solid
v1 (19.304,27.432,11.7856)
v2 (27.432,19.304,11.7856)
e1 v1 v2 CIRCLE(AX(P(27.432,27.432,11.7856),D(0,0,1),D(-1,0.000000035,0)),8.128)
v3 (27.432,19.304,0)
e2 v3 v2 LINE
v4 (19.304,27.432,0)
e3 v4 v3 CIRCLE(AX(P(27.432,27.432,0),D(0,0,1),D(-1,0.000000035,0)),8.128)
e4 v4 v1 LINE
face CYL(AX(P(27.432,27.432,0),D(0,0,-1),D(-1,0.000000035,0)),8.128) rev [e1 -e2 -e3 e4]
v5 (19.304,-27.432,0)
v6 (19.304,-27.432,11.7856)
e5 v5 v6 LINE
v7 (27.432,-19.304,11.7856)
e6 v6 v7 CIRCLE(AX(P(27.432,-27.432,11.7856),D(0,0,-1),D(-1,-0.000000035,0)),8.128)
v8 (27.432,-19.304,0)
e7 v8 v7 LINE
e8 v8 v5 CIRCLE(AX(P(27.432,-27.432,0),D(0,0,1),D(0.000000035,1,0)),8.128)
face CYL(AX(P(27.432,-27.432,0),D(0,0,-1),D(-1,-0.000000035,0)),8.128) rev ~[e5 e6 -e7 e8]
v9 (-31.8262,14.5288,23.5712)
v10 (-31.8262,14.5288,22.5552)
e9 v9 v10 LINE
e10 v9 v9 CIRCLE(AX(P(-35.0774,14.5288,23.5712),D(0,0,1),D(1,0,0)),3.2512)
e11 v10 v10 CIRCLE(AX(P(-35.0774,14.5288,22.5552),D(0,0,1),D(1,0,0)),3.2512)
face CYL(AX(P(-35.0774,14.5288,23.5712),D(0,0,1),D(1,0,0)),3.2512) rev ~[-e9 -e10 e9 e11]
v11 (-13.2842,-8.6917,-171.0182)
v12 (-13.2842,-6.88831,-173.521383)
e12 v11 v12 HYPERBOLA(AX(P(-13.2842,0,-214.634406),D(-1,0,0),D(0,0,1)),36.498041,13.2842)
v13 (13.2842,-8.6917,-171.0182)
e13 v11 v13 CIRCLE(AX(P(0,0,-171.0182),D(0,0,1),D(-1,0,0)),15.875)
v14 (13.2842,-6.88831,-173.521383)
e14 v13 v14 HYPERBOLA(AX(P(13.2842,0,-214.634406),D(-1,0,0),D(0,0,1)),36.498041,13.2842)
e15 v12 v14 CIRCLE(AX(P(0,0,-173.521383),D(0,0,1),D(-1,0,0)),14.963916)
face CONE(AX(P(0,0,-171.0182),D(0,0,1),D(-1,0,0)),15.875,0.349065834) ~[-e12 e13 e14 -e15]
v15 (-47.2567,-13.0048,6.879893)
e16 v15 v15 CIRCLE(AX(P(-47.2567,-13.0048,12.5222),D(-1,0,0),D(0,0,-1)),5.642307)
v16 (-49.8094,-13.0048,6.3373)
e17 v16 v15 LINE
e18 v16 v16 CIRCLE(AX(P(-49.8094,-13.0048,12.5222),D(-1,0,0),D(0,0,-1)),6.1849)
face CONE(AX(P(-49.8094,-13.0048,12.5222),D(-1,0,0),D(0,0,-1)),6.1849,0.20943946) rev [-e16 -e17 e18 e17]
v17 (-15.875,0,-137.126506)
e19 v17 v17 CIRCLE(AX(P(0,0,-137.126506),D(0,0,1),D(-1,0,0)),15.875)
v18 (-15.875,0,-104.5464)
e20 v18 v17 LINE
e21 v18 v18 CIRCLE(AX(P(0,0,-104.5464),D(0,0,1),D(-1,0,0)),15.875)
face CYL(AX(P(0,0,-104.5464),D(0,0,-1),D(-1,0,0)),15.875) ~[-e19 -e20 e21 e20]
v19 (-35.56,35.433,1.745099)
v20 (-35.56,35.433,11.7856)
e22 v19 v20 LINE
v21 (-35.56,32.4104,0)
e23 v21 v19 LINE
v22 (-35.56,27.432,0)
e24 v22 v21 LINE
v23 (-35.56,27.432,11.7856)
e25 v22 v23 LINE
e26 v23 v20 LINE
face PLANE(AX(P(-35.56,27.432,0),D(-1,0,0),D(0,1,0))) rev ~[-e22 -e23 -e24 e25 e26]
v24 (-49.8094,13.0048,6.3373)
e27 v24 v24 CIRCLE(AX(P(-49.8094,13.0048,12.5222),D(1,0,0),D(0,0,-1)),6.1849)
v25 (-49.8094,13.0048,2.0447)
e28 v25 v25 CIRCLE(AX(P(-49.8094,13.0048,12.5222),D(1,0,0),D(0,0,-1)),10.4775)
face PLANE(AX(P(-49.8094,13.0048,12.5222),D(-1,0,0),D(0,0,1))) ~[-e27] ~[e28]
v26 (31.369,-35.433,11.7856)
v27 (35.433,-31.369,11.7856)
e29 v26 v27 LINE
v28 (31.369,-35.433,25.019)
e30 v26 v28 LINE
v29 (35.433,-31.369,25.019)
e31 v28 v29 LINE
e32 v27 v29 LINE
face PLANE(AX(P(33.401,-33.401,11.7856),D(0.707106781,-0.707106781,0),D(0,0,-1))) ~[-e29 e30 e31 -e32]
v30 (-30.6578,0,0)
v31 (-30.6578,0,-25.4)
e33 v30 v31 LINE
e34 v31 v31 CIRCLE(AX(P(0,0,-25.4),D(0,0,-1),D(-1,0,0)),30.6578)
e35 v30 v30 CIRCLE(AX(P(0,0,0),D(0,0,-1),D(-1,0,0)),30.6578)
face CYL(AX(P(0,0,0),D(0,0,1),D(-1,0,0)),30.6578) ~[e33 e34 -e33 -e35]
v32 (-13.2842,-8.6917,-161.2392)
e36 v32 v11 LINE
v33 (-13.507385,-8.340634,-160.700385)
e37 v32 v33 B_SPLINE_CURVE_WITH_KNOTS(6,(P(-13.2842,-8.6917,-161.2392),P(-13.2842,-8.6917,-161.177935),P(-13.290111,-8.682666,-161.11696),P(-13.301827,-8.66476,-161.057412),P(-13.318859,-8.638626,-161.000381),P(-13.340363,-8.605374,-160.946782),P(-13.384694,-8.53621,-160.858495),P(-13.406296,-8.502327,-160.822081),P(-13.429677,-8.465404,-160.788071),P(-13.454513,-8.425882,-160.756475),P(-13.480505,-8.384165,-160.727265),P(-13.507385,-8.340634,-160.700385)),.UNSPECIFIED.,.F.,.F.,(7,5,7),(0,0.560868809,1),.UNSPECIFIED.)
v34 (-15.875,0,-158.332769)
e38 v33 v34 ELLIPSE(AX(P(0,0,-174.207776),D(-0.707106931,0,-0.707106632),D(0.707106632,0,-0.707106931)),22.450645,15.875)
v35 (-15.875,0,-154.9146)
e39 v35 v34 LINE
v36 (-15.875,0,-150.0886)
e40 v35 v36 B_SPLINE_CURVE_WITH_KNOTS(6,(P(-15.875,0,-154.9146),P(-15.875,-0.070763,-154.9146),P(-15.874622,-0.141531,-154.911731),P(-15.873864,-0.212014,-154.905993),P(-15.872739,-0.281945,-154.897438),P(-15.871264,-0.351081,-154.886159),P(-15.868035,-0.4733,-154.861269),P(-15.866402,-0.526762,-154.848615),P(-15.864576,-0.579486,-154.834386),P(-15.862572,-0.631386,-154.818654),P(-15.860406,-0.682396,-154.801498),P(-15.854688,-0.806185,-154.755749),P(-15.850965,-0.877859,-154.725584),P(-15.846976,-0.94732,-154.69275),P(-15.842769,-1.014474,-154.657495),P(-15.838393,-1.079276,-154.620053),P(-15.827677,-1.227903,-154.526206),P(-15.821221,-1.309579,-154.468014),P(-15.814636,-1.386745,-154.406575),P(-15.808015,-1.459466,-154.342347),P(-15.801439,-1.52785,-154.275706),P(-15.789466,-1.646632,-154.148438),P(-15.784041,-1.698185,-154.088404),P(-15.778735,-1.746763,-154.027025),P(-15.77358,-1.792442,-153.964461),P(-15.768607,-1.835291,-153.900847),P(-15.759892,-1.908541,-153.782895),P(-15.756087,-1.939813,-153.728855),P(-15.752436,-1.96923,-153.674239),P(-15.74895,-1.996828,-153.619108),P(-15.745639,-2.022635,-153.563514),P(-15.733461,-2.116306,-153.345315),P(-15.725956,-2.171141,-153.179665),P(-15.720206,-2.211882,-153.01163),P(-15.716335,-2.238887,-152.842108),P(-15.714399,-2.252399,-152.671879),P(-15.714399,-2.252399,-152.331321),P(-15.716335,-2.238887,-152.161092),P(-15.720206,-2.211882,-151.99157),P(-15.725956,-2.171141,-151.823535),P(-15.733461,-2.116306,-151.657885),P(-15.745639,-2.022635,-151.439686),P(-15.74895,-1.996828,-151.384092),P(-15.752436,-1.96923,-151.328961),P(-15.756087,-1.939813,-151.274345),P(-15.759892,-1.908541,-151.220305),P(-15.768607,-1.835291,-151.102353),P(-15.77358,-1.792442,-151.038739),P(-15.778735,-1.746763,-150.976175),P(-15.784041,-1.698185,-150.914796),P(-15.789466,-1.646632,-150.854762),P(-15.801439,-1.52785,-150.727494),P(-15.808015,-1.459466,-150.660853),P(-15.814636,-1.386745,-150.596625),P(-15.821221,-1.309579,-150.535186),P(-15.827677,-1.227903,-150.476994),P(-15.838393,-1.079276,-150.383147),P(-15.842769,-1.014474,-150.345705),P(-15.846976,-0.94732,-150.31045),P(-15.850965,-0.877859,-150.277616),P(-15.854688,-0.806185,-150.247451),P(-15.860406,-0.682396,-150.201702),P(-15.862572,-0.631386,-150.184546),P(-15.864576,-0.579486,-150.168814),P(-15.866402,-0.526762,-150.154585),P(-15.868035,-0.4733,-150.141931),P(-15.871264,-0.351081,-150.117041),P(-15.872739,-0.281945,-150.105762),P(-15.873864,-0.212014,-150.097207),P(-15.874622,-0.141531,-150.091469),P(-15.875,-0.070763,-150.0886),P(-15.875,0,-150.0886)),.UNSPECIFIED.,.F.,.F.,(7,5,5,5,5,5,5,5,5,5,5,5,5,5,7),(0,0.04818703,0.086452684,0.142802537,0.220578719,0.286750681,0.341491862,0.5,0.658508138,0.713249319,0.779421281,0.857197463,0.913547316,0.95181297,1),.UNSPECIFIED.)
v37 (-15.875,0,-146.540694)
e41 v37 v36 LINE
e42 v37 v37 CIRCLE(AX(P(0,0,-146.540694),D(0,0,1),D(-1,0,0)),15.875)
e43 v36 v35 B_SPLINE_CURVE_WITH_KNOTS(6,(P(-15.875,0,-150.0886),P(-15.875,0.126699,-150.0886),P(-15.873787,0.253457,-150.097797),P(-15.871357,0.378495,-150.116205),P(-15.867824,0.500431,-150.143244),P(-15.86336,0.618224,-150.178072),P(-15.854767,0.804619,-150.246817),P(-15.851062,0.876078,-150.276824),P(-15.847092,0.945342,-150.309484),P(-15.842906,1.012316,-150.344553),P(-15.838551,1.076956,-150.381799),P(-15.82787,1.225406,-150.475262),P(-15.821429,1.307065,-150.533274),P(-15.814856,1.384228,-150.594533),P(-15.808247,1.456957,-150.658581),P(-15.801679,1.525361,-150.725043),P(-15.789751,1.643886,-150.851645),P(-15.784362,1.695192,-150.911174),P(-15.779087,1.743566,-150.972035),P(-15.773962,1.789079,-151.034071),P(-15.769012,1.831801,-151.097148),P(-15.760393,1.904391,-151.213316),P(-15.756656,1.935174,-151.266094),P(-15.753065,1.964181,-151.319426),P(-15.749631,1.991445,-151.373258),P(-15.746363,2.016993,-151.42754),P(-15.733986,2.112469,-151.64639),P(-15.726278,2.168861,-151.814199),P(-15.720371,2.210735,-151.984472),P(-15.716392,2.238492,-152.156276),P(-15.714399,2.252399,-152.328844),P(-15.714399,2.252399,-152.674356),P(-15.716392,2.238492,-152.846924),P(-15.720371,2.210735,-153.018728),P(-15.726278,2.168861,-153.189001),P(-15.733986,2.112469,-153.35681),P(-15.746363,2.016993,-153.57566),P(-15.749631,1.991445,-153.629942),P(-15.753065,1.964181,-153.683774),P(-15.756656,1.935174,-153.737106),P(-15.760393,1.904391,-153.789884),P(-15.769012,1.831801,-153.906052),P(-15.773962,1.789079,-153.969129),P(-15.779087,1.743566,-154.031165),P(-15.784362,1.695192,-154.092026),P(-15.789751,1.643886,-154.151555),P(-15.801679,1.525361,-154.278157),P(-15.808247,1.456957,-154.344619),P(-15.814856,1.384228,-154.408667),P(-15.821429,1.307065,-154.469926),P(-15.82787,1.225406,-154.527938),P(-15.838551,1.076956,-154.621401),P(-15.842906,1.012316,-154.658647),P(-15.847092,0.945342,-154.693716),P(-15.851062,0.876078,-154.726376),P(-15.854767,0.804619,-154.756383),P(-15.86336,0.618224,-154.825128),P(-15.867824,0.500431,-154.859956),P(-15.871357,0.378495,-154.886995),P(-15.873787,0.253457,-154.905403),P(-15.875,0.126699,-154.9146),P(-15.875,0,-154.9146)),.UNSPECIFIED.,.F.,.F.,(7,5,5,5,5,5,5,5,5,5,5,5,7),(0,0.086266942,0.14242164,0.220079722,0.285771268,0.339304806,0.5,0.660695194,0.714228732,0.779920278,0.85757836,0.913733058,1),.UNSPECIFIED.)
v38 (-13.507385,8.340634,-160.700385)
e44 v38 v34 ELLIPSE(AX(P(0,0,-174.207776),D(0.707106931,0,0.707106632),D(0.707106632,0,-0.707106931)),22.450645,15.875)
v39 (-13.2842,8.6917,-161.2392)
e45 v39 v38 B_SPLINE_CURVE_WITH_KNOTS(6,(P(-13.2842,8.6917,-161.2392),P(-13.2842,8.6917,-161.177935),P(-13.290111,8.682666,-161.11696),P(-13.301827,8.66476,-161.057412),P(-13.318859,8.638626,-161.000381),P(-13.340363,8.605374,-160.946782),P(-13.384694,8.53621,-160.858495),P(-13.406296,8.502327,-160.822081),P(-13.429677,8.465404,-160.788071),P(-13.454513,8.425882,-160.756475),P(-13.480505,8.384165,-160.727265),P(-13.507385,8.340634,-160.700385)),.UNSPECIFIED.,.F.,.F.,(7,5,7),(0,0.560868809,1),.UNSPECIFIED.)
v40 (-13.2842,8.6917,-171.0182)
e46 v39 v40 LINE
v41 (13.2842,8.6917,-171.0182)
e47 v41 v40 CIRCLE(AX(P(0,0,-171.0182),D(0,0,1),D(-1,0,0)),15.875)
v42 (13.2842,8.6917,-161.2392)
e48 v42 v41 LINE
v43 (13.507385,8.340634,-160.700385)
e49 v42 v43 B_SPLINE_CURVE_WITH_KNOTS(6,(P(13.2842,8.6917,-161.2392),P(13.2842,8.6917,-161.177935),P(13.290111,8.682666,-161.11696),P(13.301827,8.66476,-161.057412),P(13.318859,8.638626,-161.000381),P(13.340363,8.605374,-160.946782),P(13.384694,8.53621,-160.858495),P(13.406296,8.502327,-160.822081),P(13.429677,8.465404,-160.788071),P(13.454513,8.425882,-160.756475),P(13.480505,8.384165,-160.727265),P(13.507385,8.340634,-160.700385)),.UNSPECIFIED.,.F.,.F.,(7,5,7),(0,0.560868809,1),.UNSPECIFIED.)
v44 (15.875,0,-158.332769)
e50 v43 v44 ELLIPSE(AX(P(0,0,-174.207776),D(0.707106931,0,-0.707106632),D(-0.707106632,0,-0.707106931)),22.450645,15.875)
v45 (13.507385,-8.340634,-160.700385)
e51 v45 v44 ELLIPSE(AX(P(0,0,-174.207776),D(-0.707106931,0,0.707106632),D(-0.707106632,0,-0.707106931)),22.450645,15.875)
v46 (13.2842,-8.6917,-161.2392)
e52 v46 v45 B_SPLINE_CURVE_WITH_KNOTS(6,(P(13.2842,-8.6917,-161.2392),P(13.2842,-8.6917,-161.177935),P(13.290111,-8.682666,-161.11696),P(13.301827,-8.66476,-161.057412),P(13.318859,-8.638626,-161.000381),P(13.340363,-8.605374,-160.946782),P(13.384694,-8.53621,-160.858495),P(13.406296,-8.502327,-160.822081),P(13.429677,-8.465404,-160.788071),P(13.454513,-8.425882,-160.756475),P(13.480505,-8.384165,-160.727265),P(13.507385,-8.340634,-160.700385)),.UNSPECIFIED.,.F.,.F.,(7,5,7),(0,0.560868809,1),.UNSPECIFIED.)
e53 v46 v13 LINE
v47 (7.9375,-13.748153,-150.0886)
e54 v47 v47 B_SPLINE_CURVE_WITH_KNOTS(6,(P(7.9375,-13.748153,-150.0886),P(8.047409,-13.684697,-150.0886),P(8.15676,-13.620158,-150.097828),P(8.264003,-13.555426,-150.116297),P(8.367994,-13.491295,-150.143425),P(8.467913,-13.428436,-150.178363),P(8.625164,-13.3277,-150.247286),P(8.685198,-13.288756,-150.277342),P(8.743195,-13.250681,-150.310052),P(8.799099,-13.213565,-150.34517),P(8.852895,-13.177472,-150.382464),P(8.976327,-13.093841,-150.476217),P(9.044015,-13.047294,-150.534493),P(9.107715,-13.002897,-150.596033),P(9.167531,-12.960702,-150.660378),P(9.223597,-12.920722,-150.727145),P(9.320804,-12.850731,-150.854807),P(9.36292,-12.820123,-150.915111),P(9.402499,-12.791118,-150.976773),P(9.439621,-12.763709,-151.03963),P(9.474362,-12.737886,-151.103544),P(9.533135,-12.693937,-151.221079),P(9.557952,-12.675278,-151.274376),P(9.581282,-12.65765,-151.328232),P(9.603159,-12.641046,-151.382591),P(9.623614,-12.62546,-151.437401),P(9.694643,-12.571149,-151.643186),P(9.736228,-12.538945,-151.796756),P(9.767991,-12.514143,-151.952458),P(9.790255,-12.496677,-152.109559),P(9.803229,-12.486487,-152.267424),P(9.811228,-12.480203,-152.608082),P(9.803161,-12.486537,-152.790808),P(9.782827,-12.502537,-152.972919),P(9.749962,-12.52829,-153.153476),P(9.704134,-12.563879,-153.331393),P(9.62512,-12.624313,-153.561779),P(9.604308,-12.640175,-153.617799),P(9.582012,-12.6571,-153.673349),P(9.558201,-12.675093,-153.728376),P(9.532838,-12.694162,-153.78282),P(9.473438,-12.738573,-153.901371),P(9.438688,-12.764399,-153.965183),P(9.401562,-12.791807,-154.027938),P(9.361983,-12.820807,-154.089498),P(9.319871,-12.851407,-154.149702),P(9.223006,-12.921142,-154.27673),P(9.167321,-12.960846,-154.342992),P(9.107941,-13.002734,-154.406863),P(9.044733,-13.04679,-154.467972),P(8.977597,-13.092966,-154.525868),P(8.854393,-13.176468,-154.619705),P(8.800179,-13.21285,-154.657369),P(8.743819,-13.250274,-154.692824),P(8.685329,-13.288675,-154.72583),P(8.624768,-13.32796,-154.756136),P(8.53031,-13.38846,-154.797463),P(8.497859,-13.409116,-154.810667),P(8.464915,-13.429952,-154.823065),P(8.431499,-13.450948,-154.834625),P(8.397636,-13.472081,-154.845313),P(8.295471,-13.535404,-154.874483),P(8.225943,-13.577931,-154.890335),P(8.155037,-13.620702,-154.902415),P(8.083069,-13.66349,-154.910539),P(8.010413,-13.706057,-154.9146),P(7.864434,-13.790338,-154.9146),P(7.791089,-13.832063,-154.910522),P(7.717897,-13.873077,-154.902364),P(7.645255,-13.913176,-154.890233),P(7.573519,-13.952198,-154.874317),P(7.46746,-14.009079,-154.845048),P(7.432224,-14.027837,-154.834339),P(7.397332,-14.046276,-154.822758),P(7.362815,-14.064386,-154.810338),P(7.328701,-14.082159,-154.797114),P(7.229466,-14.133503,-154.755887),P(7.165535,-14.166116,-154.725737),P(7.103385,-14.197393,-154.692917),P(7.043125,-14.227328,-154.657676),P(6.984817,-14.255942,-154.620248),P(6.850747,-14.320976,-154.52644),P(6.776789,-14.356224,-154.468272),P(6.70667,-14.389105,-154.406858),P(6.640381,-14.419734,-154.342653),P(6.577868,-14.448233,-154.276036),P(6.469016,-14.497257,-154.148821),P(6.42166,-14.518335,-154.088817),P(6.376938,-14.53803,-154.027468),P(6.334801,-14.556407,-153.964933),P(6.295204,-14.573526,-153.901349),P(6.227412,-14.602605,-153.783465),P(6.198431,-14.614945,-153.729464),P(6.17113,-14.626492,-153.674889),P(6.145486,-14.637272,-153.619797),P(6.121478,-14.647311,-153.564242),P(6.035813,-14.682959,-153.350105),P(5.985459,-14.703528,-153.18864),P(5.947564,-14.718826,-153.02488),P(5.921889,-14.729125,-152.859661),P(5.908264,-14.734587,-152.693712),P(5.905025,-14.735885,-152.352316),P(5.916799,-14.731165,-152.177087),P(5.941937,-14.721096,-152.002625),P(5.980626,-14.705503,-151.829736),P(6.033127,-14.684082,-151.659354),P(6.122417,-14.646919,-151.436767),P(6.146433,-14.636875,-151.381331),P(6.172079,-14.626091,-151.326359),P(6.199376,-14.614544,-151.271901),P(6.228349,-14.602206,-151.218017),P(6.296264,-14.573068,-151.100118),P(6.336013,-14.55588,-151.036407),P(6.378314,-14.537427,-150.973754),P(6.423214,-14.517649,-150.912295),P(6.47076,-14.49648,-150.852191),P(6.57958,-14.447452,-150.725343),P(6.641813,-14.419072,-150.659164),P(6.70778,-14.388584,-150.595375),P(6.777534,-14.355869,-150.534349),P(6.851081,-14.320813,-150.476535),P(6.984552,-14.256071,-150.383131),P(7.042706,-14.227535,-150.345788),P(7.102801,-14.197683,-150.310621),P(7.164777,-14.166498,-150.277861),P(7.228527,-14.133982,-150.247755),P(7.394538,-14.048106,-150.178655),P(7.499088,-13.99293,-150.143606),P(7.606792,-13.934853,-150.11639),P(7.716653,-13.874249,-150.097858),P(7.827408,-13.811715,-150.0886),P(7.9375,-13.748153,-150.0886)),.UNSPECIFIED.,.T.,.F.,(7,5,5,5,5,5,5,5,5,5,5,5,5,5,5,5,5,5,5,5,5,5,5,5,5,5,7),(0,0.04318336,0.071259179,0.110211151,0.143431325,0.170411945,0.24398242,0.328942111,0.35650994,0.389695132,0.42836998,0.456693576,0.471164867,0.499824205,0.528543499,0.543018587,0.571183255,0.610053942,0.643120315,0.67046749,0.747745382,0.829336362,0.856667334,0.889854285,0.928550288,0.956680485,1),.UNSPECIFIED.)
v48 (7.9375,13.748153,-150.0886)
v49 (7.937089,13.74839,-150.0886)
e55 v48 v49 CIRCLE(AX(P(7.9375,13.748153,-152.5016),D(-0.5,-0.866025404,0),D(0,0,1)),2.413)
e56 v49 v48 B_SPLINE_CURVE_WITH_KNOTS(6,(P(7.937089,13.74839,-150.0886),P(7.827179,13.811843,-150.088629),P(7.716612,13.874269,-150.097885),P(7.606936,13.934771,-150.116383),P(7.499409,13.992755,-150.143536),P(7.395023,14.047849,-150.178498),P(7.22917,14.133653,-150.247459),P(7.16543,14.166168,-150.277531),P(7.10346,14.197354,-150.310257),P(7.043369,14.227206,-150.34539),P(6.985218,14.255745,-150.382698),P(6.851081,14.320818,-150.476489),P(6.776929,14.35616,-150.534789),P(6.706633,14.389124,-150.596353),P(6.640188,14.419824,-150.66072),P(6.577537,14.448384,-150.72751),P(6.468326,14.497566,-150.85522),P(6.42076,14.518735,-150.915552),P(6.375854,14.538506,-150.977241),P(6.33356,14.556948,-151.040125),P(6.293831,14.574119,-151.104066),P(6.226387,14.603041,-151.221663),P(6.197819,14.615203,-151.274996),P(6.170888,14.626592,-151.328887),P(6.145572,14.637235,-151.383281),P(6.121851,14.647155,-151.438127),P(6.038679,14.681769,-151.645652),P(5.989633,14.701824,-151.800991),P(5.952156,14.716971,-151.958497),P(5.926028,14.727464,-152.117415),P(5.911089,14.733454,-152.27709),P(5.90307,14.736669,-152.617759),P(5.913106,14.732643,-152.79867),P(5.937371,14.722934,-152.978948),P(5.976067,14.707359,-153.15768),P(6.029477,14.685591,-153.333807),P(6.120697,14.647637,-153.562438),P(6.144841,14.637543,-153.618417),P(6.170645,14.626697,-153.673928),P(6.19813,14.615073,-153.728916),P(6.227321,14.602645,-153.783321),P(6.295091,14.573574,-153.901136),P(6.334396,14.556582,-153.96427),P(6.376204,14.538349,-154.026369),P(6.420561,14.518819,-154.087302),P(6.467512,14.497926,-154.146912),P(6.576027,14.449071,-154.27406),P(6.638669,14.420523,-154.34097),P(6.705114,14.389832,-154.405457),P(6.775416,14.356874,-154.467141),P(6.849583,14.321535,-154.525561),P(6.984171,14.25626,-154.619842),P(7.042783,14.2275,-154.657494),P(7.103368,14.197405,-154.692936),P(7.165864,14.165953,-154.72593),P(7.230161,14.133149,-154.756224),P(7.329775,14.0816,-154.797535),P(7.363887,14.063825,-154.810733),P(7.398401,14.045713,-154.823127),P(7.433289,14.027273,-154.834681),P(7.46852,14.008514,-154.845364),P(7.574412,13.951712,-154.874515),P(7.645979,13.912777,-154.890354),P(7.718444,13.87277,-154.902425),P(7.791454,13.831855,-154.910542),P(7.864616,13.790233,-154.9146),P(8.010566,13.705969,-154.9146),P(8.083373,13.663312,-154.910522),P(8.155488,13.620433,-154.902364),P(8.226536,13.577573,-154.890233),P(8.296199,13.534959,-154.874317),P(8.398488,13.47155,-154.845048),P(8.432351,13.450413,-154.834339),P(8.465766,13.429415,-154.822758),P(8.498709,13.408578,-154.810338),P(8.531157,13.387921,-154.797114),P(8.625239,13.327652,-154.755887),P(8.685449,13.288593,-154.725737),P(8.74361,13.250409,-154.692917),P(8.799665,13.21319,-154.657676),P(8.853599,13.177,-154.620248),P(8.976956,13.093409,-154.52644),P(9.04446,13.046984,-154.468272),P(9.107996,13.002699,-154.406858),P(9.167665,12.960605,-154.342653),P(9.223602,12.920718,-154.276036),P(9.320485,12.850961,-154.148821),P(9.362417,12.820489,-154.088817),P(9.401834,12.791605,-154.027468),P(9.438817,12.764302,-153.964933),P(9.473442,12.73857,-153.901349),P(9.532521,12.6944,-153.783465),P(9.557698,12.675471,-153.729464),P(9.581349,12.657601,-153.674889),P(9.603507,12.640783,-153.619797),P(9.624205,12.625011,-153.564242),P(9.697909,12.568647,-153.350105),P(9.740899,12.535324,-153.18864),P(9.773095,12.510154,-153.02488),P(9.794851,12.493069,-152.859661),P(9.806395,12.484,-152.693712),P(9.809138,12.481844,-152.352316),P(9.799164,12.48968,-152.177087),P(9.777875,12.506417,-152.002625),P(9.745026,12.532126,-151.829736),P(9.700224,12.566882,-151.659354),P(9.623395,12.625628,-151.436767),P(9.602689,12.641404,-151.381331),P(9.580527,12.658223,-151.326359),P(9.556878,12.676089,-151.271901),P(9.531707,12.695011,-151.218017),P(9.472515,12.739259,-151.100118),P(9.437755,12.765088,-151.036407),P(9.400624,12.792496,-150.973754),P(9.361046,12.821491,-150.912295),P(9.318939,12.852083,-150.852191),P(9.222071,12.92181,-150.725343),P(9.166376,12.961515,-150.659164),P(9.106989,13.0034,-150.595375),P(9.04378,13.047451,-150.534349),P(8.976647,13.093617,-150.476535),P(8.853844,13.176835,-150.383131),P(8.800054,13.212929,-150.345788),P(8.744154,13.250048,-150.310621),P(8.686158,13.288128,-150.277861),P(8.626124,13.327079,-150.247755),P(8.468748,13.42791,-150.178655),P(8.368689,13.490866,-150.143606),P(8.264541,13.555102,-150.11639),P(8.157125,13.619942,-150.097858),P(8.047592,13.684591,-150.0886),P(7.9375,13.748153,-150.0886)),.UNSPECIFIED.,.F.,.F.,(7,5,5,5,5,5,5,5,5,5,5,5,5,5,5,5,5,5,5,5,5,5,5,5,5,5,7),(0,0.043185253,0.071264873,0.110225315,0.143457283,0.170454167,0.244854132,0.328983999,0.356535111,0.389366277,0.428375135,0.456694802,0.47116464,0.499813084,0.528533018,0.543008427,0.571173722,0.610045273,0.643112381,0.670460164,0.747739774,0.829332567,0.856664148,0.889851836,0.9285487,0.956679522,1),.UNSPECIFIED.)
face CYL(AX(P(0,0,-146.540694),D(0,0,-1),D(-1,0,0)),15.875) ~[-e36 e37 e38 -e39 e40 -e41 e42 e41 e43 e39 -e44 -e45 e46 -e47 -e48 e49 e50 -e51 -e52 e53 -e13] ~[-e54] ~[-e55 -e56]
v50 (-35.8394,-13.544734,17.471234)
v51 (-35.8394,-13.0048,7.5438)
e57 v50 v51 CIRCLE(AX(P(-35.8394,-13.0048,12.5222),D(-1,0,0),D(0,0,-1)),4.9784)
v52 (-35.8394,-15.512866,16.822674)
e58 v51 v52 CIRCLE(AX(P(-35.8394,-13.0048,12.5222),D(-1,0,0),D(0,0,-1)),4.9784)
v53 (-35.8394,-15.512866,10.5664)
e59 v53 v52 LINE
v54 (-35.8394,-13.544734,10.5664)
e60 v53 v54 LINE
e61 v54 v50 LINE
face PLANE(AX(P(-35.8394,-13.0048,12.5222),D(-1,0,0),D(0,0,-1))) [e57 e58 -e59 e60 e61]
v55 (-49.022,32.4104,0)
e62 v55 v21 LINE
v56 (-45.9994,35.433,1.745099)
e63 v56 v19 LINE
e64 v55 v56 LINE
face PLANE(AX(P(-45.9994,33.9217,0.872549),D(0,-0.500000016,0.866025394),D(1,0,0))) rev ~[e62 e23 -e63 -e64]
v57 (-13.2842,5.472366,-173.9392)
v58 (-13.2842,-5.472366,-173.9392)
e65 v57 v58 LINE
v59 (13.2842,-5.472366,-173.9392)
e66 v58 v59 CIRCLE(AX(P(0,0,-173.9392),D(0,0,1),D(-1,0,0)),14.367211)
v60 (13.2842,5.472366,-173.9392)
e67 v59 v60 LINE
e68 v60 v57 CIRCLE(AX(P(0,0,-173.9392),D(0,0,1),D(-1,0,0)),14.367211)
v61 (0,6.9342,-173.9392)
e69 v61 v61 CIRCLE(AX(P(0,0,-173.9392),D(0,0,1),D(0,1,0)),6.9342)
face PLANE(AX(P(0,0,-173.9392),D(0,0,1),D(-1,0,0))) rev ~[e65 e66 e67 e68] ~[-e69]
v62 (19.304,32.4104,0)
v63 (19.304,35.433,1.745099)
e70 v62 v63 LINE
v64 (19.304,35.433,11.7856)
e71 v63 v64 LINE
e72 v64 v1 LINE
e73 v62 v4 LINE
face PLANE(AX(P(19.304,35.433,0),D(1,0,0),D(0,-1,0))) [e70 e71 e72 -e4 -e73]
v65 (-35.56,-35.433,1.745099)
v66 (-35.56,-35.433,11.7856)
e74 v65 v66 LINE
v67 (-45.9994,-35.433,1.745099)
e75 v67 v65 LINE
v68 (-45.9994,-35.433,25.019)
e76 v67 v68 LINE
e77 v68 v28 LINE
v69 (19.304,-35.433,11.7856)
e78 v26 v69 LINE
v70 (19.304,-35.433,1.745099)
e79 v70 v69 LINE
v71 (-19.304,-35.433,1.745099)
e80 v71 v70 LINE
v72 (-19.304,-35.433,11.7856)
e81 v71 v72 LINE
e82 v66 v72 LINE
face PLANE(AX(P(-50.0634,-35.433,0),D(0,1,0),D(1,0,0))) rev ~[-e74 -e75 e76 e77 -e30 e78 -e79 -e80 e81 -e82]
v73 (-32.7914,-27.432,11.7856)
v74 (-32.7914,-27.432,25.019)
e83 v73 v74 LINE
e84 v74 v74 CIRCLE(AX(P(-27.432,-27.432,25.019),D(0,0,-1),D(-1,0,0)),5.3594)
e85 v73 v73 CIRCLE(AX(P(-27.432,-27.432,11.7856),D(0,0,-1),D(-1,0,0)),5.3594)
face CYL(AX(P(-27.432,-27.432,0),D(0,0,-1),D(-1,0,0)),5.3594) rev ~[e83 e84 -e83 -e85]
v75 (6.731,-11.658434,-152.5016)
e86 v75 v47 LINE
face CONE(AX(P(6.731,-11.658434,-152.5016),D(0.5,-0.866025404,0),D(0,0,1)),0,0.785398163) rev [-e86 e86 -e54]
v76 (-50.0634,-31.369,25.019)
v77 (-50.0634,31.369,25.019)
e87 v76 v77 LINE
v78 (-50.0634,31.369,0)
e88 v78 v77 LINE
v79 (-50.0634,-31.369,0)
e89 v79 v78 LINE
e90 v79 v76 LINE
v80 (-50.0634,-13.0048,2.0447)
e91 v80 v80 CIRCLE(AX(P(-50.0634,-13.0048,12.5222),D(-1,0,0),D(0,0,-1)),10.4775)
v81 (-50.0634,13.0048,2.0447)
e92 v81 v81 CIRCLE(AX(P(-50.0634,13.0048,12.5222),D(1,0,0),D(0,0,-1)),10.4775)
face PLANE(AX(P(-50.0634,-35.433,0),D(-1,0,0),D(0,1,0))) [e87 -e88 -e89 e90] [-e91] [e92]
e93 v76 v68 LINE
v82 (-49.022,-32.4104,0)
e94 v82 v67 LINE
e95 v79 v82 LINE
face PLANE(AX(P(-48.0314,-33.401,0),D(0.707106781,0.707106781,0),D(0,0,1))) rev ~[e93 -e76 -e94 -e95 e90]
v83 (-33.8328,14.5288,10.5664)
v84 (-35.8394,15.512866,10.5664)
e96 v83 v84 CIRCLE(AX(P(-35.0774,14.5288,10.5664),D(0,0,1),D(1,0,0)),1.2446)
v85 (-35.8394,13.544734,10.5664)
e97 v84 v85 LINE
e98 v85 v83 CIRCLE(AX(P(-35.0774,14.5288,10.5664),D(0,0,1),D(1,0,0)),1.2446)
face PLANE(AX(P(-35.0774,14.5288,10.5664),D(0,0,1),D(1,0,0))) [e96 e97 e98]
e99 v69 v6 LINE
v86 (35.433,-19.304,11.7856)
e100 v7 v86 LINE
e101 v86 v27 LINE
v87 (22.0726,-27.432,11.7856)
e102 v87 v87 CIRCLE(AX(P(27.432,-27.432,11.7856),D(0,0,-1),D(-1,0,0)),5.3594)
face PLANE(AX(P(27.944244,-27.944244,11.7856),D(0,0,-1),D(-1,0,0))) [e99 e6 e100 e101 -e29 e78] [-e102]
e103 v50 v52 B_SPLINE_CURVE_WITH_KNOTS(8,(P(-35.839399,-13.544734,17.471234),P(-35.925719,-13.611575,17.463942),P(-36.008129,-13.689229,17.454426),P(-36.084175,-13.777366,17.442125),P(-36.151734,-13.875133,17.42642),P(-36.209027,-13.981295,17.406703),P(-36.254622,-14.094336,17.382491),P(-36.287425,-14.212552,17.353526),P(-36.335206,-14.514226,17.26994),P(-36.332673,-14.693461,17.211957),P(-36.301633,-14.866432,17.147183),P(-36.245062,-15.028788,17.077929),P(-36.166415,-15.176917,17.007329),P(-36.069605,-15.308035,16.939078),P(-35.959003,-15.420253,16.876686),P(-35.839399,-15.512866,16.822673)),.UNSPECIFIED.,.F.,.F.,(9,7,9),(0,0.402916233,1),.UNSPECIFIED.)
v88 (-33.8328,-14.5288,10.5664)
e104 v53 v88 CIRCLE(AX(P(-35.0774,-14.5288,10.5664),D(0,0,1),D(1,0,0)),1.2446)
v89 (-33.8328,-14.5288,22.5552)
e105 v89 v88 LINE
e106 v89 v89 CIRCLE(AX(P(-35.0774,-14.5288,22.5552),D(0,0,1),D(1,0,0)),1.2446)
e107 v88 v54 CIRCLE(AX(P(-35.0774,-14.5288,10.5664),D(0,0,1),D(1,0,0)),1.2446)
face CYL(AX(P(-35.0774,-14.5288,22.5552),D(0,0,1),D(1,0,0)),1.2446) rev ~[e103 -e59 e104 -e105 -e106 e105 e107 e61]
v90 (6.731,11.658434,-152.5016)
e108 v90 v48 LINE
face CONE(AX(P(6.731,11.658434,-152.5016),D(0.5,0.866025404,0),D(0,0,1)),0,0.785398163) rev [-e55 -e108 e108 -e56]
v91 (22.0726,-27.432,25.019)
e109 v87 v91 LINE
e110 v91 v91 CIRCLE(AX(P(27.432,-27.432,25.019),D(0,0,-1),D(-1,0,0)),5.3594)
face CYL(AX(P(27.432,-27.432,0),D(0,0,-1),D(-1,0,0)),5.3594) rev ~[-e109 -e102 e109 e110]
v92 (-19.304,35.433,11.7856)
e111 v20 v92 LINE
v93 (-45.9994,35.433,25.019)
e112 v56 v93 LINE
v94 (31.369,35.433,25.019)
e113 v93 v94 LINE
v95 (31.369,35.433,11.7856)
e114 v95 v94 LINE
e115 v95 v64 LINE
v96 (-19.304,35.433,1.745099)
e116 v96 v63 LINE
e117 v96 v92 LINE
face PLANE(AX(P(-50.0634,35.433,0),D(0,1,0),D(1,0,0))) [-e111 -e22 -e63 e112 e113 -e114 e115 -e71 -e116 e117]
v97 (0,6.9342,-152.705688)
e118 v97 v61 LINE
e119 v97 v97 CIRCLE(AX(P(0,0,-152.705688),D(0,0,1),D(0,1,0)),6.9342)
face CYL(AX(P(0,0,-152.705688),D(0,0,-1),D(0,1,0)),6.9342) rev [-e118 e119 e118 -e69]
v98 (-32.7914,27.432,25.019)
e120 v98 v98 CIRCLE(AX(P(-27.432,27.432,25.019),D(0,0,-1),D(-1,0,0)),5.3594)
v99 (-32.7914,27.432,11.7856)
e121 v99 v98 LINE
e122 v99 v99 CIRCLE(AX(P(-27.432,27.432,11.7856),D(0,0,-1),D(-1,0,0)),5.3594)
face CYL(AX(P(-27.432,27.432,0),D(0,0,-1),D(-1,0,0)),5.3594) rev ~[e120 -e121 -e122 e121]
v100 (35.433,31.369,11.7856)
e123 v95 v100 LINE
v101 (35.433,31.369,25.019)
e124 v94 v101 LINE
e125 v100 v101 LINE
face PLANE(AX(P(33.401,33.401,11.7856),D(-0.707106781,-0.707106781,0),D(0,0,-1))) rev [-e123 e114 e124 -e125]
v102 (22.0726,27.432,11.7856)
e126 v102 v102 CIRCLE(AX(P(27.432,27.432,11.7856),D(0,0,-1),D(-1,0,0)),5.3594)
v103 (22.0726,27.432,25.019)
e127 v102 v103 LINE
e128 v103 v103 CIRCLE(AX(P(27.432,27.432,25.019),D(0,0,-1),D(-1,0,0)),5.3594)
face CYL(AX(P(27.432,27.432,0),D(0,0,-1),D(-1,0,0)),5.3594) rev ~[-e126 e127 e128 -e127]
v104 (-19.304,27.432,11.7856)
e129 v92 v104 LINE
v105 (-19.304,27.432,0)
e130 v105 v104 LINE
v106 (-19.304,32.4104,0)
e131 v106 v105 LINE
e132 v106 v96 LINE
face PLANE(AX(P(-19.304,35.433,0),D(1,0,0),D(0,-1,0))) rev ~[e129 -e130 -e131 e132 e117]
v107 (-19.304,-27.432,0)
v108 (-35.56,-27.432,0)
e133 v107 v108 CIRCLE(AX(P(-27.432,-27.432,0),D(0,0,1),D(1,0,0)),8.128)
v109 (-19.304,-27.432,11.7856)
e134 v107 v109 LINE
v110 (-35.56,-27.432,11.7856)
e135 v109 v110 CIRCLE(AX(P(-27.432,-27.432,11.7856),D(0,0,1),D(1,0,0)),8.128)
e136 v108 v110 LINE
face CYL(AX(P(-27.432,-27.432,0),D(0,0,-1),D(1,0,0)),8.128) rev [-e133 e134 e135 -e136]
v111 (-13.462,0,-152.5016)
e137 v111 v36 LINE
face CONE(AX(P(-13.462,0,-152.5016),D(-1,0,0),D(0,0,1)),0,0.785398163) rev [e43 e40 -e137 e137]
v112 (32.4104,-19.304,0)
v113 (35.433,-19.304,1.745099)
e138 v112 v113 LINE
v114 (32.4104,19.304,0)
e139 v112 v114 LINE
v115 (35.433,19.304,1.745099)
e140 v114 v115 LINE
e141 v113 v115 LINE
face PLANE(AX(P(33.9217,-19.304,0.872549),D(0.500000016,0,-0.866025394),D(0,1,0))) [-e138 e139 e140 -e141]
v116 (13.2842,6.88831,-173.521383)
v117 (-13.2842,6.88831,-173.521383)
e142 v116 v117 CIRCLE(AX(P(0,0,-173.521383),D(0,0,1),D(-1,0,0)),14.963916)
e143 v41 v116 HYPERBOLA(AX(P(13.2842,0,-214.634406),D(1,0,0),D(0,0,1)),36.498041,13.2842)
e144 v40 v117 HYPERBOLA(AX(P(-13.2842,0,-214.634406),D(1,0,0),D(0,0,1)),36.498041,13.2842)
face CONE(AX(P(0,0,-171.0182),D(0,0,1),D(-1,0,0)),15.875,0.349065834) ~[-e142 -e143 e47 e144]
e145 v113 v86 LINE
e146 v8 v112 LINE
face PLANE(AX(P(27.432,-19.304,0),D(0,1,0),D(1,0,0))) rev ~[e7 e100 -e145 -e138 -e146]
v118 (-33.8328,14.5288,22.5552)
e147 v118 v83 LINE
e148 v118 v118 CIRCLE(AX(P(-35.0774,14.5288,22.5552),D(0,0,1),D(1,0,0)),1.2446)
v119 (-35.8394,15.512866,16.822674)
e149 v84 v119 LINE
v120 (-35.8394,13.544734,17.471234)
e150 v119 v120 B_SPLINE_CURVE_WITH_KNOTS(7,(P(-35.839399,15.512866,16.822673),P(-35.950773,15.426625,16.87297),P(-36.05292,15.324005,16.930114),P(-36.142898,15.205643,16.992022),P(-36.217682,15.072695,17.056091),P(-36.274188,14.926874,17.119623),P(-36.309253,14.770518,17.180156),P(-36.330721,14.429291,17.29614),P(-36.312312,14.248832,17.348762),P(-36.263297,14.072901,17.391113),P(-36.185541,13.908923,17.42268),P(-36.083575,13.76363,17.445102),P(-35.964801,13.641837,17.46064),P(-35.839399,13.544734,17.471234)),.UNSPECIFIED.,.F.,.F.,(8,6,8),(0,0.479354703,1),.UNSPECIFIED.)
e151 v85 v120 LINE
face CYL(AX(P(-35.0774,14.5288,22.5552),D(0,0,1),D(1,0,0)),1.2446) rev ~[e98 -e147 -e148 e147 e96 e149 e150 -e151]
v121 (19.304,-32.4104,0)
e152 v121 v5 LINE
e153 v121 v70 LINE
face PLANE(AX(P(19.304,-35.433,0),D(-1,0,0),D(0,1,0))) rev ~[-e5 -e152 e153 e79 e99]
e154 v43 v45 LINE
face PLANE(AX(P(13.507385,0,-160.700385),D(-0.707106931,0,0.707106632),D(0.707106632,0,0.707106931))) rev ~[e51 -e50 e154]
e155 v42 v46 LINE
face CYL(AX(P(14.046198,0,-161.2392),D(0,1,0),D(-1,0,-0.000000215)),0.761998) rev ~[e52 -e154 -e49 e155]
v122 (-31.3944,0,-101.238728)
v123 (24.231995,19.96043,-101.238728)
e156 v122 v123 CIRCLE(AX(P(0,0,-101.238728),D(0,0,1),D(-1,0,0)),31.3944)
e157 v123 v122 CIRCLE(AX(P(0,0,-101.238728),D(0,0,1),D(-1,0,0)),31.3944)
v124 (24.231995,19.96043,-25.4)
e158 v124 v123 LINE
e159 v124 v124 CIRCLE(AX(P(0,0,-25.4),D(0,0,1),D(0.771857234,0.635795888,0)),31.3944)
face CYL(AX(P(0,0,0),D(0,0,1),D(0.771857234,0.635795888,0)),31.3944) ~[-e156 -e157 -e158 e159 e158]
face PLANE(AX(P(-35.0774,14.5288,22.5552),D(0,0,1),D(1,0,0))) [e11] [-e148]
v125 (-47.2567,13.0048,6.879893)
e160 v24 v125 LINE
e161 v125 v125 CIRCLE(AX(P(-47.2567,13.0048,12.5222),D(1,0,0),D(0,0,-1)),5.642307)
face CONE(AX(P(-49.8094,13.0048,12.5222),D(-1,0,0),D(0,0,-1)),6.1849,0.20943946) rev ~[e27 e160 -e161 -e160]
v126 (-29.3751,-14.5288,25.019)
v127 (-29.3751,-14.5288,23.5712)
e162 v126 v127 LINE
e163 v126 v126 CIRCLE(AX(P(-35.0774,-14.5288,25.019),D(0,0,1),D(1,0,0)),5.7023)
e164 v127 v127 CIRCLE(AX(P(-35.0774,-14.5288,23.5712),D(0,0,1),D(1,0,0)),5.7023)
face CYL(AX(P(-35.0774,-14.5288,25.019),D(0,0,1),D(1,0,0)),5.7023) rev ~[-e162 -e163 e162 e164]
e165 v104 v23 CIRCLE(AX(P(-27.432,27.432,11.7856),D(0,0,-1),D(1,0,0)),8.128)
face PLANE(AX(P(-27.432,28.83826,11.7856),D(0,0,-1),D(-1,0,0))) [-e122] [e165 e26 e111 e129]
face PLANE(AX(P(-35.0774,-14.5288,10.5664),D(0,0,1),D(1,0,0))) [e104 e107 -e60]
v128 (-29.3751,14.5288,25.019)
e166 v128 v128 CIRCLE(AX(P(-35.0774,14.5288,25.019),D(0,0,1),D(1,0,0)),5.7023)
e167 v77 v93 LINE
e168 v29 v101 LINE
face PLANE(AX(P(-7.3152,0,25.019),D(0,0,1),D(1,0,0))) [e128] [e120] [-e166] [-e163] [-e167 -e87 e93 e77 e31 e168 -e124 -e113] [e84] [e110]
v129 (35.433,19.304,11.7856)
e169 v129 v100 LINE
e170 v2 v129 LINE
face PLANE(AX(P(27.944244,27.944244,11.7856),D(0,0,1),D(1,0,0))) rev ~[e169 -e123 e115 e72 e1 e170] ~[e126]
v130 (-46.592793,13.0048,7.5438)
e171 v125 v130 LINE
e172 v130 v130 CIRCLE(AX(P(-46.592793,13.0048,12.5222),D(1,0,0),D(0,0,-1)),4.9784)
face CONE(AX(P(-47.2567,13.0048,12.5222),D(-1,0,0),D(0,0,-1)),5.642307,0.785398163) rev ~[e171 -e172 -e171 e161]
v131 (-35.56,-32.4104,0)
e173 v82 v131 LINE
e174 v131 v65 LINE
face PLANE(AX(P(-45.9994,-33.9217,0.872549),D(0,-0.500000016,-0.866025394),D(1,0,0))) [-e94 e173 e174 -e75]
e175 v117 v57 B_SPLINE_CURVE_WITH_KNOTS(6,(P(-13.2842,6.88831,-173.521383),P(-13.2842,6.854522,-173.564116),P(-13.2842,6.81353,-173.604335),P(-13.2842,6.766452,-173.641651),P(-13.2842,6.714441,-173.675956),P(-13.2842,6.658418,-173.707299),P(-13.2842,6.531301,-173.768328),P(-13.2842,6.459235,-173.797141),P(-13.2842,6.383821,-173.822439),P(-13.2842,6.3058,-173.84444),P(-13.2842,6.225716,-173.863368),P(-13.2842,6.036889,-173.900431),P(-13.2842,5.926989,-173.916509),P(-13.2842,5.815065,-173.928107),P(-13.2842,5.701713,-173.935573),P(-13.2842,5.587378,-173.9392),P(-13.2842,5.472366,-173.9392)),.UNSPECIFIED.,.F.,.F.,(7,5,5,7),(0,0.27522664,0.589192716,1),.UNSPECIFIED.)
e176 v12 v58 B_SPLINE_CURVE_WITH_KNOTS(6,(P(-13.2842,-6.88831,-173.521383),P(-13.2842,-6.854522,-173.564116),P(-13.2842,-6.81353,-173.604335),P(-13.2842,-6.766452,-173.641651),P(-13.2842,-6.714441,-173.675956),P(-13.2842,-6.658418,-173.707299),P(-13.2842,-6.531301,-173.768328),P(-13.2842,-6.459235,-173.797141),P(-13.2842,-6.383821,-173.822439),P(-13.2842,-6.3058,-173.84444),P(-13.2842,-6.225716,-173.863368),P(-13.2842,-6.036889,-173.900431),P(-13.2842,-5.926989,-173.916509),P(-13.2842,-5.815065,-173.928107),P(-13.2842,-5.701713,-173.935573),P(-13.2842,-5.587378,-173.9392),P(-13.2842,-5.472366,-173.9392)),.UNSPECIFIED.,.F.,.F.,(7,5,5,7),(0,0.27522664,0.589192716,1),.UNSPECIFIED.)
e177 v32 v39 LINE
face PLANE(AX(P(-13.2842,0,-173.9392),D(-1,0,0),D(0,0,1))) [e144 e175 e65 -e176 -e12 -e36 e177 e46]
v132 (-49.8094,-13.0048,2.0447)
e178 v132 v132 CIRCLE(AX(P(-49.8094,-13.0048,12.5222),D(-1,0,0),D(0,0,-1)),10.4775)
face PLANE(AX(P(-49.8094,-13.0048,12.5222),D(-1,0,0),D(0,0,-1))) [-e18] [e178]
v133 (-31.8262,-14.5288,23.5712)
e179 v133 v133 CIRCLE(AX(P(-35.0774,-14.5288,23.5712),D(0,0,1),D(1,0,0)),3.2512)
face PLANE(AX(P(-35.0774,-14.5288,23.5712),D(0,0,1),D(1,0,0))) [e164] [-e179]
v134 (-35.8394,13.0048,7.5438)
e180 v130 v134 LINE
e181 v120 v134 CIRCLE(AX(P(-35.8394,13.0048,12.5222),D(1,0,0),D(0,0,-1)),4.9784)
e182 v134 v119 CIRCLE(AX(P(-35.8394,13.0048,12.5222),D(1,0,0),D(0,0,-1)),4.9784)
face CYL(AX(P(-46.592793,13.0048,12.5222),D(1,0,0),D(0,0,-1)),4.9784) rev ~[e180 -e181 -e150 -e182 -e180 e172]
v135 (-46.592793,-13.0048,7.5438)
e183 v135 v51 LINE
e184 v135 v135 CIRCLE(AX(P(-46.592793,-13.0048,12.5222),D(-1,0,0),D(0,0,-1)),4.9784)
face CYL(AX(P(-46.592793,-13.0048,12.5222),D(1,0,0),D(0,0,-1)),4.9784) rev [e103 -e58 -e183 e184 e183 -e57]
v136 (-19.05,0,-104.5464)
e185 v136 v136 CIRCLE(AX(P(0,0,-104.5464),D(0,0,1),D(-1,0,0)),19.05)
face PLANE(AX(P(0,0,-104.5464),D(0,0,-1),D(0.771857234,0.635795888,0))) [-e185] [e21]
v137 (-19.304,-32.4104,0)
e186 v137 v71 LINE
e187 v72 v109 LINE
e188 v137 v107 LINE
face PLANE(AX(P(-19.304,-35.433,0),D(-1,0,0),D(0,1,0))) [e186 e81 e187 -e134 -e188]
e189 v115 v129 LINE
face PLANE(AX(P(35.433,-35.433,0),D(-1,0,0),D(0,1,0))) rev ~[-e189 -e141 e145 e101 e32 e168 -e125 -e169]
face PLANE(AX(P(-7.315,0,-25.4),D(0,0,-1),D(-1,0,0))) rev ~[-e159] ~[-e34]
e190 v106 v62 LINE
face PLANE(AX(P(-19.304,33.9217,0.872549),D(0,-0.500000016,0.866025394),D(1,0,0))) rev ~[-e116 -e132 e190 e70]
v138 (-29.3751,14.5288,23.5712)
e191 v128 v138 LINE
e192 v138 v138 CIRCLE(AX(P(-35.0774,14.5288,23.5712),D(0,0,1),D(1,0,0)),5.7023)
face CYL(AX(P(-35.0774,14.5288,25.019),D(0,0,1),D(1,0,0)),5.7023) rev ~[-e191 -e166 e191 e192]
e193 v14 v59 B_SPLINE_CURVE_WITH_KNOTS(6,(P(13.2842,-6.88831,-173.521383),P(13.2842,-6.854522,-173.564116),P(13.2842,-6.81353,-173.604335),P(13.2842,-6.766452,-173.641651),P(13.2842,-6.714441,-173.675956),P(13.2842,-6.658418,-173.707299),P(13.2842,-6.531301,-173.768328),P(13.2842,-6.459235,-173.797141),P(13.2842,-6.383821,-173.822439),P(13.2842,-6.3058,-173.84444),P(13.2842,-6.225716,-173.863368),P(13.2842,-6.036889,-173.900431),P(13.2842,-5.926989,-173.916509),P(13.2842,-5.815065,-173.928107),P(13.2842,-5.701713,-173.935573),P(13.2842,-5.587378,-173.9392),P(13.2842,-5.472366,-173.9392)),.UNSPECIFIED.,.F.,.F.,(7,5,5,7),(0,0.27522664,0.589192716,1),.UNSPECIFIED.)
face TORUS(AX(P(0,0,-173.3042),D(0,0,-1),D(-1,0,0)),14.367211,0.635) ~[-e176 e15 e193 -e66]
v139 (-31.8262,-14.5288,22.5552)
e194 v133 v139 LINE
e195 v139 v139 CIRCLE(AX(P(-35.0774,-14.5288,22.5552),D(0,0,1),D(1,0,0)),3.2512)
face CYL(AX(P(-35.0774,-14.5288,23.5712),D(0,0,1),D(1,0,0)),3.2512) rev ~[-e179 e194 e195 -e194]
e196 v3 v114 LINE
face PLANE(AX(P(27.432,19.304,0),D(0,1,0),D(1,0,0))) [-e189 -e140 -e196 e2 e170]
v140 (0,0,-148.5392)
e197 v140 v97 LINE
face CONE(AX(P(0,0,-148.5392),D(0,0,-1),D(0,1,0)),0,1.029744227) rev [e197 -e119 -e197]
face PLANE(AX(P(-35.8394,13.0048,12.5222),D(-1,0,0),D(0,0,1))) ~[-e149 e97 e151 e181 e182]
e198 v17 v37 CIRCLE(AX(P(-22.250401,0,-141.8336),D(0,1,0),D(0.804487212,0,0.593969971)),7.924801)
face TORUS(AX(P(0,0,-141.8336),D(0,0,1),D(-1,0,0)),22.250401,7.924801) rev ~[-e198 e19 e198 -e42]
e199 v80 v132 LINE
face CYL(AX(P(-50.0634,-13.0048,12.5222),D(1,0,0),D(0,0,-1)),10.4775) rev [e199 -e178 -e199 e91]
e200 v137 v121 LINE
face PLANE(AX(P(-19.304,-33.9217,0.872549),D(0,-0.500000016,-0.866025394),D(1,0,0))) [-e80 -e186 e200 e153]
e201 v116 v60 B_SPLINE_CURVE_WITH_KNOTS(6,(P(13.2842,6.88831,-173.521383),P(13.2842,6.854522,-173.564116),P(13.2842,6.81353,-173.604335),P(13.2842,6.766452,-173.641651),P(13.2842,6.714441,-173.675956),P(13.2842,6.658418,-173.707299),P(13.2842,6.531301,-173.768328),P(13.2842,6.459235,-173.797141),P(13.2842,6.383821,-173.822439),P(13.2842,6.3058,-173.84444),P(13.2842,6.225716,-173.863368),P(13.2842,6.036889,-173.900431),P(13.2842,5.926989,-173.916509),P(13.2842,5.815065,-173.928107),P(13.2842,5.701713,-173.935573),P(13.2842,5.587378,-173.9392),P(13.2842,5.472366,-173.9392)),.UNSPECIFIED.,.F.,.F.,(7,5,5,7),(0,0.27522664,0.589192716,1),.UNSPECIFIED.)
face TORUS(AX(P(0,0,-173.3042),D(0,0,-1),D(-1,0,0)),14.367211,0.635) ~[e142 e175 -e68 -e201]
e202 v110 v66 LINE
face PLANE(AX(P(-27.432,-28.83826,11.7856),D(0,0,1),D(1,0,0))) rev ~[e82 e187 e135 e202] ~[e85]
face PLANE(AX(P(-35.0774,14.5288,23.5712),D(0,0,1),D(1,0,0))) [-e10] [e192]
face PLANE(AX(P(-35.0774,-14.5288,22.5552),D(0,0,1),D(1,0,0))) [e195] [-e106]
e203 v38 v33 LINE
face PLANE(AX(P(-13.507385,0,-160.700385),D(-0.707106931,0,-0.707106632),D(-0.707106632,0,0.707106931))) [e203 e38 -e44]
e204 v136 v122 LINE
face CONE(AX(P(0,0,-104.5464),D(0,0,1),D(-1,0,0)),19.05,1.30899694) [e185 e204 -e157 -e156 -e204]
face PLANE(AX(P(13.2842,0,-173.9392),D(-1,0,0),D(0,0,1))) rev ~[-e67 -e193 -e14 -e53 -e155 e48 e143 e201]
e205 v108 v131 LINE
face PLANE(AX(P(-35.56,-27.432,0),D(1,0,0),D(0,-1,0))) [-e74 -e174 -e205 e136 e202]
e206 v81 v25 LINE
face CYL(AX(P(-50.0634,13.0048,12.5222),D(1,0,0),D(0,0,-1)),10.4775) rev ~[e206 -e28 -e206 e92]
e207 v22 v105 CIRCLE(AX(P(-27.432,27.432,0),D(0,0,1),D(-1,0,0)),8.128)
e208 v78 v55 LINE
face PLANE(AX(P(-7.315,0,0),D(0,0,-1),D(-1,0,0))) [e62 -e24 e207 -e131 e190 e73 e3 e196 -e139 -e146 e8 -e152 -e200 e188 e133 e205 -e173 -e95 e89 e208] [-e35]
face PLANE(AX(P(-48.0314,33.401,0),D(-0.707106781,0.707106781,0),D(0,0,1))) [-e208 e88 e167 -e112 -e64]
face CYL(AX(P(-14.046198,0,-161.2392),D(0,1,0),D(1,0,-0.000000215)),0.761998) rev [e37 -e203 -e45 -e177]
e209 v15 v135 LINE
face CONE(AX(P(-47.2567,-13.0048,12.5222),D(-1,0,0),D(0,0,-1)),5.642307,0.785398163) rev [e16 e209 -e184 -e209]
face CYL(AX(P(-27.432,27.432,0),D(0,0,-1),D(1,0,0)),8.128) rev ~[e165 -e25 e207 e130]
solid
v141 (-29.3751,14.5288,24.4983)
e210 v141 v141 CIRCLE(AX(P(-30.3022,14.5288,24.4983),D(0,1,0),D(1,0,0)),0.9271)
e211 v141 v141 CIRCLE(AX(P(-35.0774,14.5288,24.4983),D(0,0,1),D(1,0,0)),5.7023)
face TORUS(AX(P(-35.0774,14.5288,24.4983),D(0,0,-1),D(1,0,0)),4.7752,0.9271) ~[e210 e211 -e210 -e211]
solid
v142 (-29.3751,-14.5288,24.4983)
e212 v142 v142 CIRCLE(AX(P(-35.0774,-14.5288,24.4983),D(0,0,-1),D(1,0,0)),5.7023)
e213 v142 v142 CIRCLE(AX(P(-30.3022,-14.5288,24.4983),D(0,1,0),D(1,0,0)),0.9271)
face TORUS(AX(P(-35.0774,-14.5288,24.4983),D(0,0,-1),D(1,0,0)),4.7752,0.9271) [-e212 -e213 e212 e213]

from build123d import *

# Parameters (mm, degrees)
SKETCH1_W                = 85.4964
SKETCH1_H                = 70.866
EXTRUDE1_DEPTH           = 25.019
SKETCH2_R                = 5.3594
CUT_EXTRUDE1_DEPTH       = 27.5209
LPATTERN1_COUNT          = 2
LPATTERN1_PITCH          = 54.864
LPATTERN1_COUNT_DIR2     = 2
LPATTERN1_PITCH_DIR2     = 54.864
CUT_EXTRUDE2_DEPTH       = 11.7856
SKETCH6_R                = 5.7023
CUT_EXTRUDE3_DEPTH       = 1.4478
SKETCH7_R                = 3.2512
CUT_EXTRUDE4_DEPTH       = 1.016
SKETCH8_R                = 1.2446
CUT_EXTRUDE5_DEPTH       = 11.9888
SKETCH9_R                = 0.9271
CHAMFER1_SIZE            = 4.064
CHAMFER2_SIZE            = 3.0226
CHAMFER2_SIZE2           = 1.745099
SKETCH14_R               = 31.3944
EXTRUDE2_DEPTH           = 104.5464
SKETCH15_OUTSIDE_W       = 121.686
SKETCH15_OUTSIDE_H       = 107.056
SKETCH15_OUTSIDE_R       = 30.6578
CUT_EXTRUDE9_DEPTH       = 25.4
CIRPATTERN1_COUNT        = 3
FILLET1_R                = 0.635
CUT_EXTRUDE12_DEPTH      = 36.433
CUT_EXTRUDE12_DEPTH_BACK = 36.433


with BuildPart() as part:
    # Sketch1 → Extrude1 (new body)
    with BuildSketch(Plane.XY):
        with Locations((-7.3152, 0)):
            Rectangle(SKETCH1_W, SKETCH1_H)
    extrude(amount=EXTRUDE1_DEPTH)

    # Sketch2 → Cut-Extrude1 (cut)
    with BuildSketch(Plane(origin=(0, 0, 0), x_dir=(-1, 0, 0), z_dir=(0, 0, -1))):
        with Locations((-27.432, -27.432)):
            Circle(SKETCH2_R)
    cut_extrude1 = extrude(amount=-CUT_EXTRUDE1_DEPTH, mode=Mode.SUBTRACT)

    # LPattern1: Cut-Extrude1 2 × 2
    with Locations(*[(-j * LPATTERN1_PITCH_DIR2, i * LPATTERN1_PITCH, 0) for i in range(LPATTERN1_COUNT) for j in range(LPATTERN1_COUNT_DIR2) if (i, j) != (0, 0)]):
        add(cut_extrude1, mode=Mode.SUBTRACT)

    # Sketch3 → Cut-Extrude2 (cut)
    with BuildSketch(Plane(origin=(0, 0, 0), x_dir=(-1, 0, 0), z_dir=(0, 0, -1))):
        with BuildLine():
            Line((-27.432, -19.304), (-35.433, -19.304))
            Line((-35.433, -19.304), (-35.433, -35.433))
            Line((-35.433, -35.433), (-19.304, -35.433))
            Line((-19.304, -35.433), (-19.304, -27.432))
            ThreePointArc((-19.304, -27.432), (-21.684636, -21.684636), (-27.432, -19.304))
        make_face()
        with BuildLine():
            Line((-35.433, 19.304), (-35.433, 35.433))
            Line((-35.433, 35.433), (-19.304, 35.433))
            Line((-19.304, 35.433), (-19.304, 27.432))
            ThreePointArc((-19.304, 27.432), (-21.684636, 21.684636), (-27.432, 19.304))
            Line((-27.432, 19.304), (-35.433, 19.304))
        make_face()
        with BuildLine():
            Line((19.304, 35.433), (19.304, 27.432))
            ThreePointArc((19.304, 27.432), (27.432, 19.304), (35.56, 27.432))
            Line((35.56, 27.432), (35.56, 35.433))
            Line((35.56, 35.433), (19.304, 35.433))
        make_face()
        with BuildLine():
            Line((35.56, -35.433), (19.304, -35.433))
            Line((19.304, -35.433), (19.304, -27.432))
            ThreePointArc((19.304, -27.432), (27.432, -19.304), (35.56, -27.432))
            Line((35.56, -27.432), (35.56, -35.433))
        make_face()
    extrude(amount=-CUT_EXTRUDE2_DEPTH, mode=Mode.SUBTRACT)

    # S2D0007 → Cut-Revolve1 (revolve, cut)
    with BuildSketch(Plane(origin=(-55.5498, -13.0048, 12.5222), x_dir=(0, 1, 0), z_dir=(0, 0, 1)), mode=Mode.PRIVATE) as cut_revolve1_sk:
        Polygon((0, -5.4864), (10.4775, -5.4864), (10.4775, -5.7404), (6.1849, -5.7404), (5.642307, -8.2931), (4.9784, -8.957007), (4.9784, -19.7104), (0, -19.7104), align=None)
    cut_revolve1 = revolve(cut_revolve1_sk.sketch.rotate(Axis((-35.077219, -13.0048, 12.5222), (-1, 0, 0)), 90), axis=Axis((-35.077219, -13.0048, 12.5222), (-1, 0, 0)), mode=Mode.SUBTRACT)  # turned: the seam where the file's is

    # Mirror1: Cut-Revolve1 across plane
    add(cut_revolve1.mirror(Plane.ZX), mode=Mode.SUBTRACT)

    # Sketch6 → Cut-Extrude3 (cut)
    with BuildSketch(Plane.XY.offset(25.019)):
        with Locations((-35.0774, -14.5288)):
            Circle(SKETCH6_R)
        with Locations((-35.0774, 14.5288)):
            Circle(SKETCH6_R)
    extrude(amount=-CUT_EXTRUDE3_DEPTH, mode=Mode.SUBTRACT)

    # Sketch7 → Cut-Extrude4 (cut)
    with BuildSketch(Plane.XY.offset(23.5712)):
        with Locations((-35.0774, 14.5288)):
            Circle(SKETCH7_R)
        with Locations((-35.0774, -14.5288)):
            Circle(SKETCH7_R)
    extrude(amount=-CUT_EXTRUDE4_DEPTH, mode=Mode.SUBTRACT)

    # Sketch8 → Cut-Extrude5 (cut)
    with BuildSketch(Plane.XY.offset(22.5552)):
        with Locations((-35.0774, 14.5288)):
            Circle(SKETCH8_R)
        with Locations((-35.0774, -14.5288)):
            Circle(SKETCH8_R)
    extrude(amount=-CUT_EXTRUDE5_DEPTH, mode=Mode.SUBTRACT)

    # Chamfer1
    chamfer1_edges = [part.edges().sort_by_distance(p)[0] for p in [
        (-50.0634, 35.433, 12.5095),
        (35.433, 35.433, 18.4023),
        (35.433, -35.433, 18.4023),
        (-50.0634, -35.433, 12.5095),
    ]]
    chamfer(chamfer1_edges, length=CHAMFER1_SIZE)

    # Chamfer2
    chamfer2_edges = [part.edges().sort_by_distance(p)[0] for p in [
        (-40.7797, -35.433, 0),
        (35.433, 0, 0),
        (0, 35.433, 0),
        (-40.7797, 35.433, 0),
        (0, -35.433, 0),
    ]]
    chamfer2_side = [part.faces().sort_by_distance(p)[0] for p in [
        (-8.721449, 0, 0),
    ]]
    chamfer(chamfer2_edges, length=CHAMFER2_SIZE, length2=CHAMFER2_SIZE2, reference=chamfer2_side[0])

    # Sketch14 → Extrude2 (add)
    with BuildSketch(Plane(origin=(0, 0, 0), x_dir=(-1, 0, 0), z_dir=(0, 0, -1))):
        with Locations(Location((0, 0, 0), (0, 0, 140.520961))):  # turned: the seam where the file's is
            Circle(SKETCH14_R)
    extrude(amount=EXTRUDE2_DEPTH)

    # Sketch15 outside → Cut-Extrude9 (cut)
    with BuildSketch(Plane(origin=(0, 0, 0), x_dir=(-1, 0, 0), z_dir=(0, 0, -1))):
        with Locations((7.315, 0)):
            Rectangle(SKETCH15_OUTSIDE_W, SKETCH15_OUTSIDE_H)
        Circle(SKETCH15_OUTSIDE_R, mode=Mode.SUBTRACT)
    extrude(amount=CUT_EXTRUDE9_DEPTH, mode=Mode.SUBTRACT)

    # Sketch16 → Cut-Revolve3 (revolve, cut)
    with BuildSketch(Plane(origin=(0, 0, 0), x_dir=(0, 0, 1), z_dir=(1, 0, 0)), mode=Mode.PRIVATE) as cut_revolve3_sk:
        Polygon((-104.5464, 19.05), (-101.238728, 31.3944), (-104.5464, 31.3944), align=None)
    revolve(cut_revolve3_sk.sketch.rotate(Axis((0, 0, -96.582204), (0, 0, 1)), 270), axis=Axis((0, 0, -96.582204), (0, 0, 1)), mode=Mode.SUBTRACT)  # turned: the seam where the file's is

    # Sketch17 → Revolve3 (revolve)
    with BuildSketch(Plane(origin=(0, 0, 0), x_dir=(0, 0, 1), z_dir=(1, 0, 0)), mode=Mode.PRIVATE) as revolve3_sk:
        with BuildLine():
            Line((-104.5464, 0), (-104.5464, 15.875))
            Line((-104.5464, 15.875), (-137.126506, 15.875))
            ThreePointArc((-137.126506, 15.875), (-141.8336, 14.3256), (-146.540694, 15.875))
            Line((-146.540694, 15.875), (-171.0182, 15.875))
            Line((-171.0182, 15.875), (-173.9392, 14.811843))
            Line((-173.9392, 14.811843), (-173.9392, 0))
            Line((-173.9392, 0), (-104.5464, 0))
        make_face()
    revolve(revolve3_sk.sketch.rotate(Axis((0, 0, -180.9369), (0, 0, 1)), 270), axis=Axis((0, 0, -180.9369), (0, 0, 1)))  # turned: the seam where the file's is

    # Sketch22 → Cut-Revolve4 (revolve, cut)
    with BuildSketch(Plane(origin=(0, 0, 0), x_dir=(1, 0, 0), z_dir=(0, 1, 0)), mode=Mode.PRIVATE) as cut_revolve4_sk:
        Polygon((-15.875, 154.9146), (-15.875, 152.5016), (-13.462, 152.5016), align=None)
    cut_revolve4 = revolve(cut_revolve4_sk.sketch.rotate(Axis((-21.668803, 0, -152.5016), (1, 0, 0)), 180), axis=Axis((-21.668803, 0, -152.5016), (1, 0, 0)), mode=Mode.SUBTRACT)  # turned: the seam where the file's is

    # CirPattern1: Cut-Revolve4 ×3 about axis
    cirpattern1_axis = Axis((0, 0, -180.9369), (0, 0, -1))
    for i in range(1, CIRPATTERN1_COUNT):
        add(cut_revolve4.rotate(cirpattern1_axis, i * 360 / CIRPATTERN1_COUNT), mode=Mode.SUBTRACT)

    # Fillet1
    fillet1_edges = [part.edges().sort_by_distance(p)[0] for p in [
        (14.811843, 0, -173.9392),
    ]]
    fillet(fillet1_edges, radius=FILLET1_R)

    # Sketch24 → Hole1 (revolve, cut)
    with BuildSketch(Plane(origin=(0, 0, -173.9392), x_dir=(0, 1, 0), z_dir=(1, 0, 0))):
        Polygon((0, 0), (0, 25.4), (6.9342, 21.233512), (6.9342, 0), align=None)
    revolve(axis=Axis((0, 0, -178.1834), (0, 0, 1)), mode=Mode.SUBTRACT)

    # Sketch26 → Cut-Extrude12 (cut, two sides)
    with BuildSketch(Plane(origin=(0, 0, 0), x_dir=(1, 0, 0), z_dir=(0, 1, 0))) as cut_extrude12_sk:
        with BuildLine():
            Line((-13.2842, 173.9392), (-13.2842, 161.2392))
            ThreePointArc((-13.2842, 161.2392), (-13.342204, 160.947595), (-13.507385, 160.700385))
            Line((-13.507385, 160.700385), (-15.875, 158.332769))
            Line((-15.875, 158.332769), (-15.875, 173.9392))
            Line((-15.875, 173.9392), (-13.2842, 173.9392))
        make_face()
        with BuildLine():
            Line((15.875, 173.9392), (13.2842, 173.9392))
            Line((13.2842, 173.9392), (13.2842, 161.2392))
            ThreePointArc((13.2842, 161.2392), (13.342204, 160.947595), (13.507385, 160.700385))
            Line((13.507385, 160.700385), (15.875, 158.332769))
            Line((15.875, 158.332769), (15.875, 173.9392))
        make_face()
    extrude(amount=CUT_EXTRUDE12_DEPTH, mode=Mode.SUBTRACT)
    extrude(cut_extrude12_sk.sketch, amount=-CUT_EXTRUDE12_DEPTH_BACK, mode=Mode.SUBTRACT)


with BuildPart() as body_2:
    # Sketch9 → Revolve1 (revolve)
    with BuildSketch(Plane(origin=(-41.656, -14.5288, 23.5712), x_dir=(1, 0, 0), z_dir=(0, 1, 0))):
        with Locations((11.3538, -0.9271)):
            Circle(SKETCH9_R)
    revolve(axis=Axis((-35.0774, -14.5288, 25.51811), (0, 0, -1)))


with BuildPart() as body_3:
    # Mirror2: mirrored copy
    add(body_2.part.mirror(Plane.ZX))


solid = Compound([part.part, body_2.part, body_3.part])
